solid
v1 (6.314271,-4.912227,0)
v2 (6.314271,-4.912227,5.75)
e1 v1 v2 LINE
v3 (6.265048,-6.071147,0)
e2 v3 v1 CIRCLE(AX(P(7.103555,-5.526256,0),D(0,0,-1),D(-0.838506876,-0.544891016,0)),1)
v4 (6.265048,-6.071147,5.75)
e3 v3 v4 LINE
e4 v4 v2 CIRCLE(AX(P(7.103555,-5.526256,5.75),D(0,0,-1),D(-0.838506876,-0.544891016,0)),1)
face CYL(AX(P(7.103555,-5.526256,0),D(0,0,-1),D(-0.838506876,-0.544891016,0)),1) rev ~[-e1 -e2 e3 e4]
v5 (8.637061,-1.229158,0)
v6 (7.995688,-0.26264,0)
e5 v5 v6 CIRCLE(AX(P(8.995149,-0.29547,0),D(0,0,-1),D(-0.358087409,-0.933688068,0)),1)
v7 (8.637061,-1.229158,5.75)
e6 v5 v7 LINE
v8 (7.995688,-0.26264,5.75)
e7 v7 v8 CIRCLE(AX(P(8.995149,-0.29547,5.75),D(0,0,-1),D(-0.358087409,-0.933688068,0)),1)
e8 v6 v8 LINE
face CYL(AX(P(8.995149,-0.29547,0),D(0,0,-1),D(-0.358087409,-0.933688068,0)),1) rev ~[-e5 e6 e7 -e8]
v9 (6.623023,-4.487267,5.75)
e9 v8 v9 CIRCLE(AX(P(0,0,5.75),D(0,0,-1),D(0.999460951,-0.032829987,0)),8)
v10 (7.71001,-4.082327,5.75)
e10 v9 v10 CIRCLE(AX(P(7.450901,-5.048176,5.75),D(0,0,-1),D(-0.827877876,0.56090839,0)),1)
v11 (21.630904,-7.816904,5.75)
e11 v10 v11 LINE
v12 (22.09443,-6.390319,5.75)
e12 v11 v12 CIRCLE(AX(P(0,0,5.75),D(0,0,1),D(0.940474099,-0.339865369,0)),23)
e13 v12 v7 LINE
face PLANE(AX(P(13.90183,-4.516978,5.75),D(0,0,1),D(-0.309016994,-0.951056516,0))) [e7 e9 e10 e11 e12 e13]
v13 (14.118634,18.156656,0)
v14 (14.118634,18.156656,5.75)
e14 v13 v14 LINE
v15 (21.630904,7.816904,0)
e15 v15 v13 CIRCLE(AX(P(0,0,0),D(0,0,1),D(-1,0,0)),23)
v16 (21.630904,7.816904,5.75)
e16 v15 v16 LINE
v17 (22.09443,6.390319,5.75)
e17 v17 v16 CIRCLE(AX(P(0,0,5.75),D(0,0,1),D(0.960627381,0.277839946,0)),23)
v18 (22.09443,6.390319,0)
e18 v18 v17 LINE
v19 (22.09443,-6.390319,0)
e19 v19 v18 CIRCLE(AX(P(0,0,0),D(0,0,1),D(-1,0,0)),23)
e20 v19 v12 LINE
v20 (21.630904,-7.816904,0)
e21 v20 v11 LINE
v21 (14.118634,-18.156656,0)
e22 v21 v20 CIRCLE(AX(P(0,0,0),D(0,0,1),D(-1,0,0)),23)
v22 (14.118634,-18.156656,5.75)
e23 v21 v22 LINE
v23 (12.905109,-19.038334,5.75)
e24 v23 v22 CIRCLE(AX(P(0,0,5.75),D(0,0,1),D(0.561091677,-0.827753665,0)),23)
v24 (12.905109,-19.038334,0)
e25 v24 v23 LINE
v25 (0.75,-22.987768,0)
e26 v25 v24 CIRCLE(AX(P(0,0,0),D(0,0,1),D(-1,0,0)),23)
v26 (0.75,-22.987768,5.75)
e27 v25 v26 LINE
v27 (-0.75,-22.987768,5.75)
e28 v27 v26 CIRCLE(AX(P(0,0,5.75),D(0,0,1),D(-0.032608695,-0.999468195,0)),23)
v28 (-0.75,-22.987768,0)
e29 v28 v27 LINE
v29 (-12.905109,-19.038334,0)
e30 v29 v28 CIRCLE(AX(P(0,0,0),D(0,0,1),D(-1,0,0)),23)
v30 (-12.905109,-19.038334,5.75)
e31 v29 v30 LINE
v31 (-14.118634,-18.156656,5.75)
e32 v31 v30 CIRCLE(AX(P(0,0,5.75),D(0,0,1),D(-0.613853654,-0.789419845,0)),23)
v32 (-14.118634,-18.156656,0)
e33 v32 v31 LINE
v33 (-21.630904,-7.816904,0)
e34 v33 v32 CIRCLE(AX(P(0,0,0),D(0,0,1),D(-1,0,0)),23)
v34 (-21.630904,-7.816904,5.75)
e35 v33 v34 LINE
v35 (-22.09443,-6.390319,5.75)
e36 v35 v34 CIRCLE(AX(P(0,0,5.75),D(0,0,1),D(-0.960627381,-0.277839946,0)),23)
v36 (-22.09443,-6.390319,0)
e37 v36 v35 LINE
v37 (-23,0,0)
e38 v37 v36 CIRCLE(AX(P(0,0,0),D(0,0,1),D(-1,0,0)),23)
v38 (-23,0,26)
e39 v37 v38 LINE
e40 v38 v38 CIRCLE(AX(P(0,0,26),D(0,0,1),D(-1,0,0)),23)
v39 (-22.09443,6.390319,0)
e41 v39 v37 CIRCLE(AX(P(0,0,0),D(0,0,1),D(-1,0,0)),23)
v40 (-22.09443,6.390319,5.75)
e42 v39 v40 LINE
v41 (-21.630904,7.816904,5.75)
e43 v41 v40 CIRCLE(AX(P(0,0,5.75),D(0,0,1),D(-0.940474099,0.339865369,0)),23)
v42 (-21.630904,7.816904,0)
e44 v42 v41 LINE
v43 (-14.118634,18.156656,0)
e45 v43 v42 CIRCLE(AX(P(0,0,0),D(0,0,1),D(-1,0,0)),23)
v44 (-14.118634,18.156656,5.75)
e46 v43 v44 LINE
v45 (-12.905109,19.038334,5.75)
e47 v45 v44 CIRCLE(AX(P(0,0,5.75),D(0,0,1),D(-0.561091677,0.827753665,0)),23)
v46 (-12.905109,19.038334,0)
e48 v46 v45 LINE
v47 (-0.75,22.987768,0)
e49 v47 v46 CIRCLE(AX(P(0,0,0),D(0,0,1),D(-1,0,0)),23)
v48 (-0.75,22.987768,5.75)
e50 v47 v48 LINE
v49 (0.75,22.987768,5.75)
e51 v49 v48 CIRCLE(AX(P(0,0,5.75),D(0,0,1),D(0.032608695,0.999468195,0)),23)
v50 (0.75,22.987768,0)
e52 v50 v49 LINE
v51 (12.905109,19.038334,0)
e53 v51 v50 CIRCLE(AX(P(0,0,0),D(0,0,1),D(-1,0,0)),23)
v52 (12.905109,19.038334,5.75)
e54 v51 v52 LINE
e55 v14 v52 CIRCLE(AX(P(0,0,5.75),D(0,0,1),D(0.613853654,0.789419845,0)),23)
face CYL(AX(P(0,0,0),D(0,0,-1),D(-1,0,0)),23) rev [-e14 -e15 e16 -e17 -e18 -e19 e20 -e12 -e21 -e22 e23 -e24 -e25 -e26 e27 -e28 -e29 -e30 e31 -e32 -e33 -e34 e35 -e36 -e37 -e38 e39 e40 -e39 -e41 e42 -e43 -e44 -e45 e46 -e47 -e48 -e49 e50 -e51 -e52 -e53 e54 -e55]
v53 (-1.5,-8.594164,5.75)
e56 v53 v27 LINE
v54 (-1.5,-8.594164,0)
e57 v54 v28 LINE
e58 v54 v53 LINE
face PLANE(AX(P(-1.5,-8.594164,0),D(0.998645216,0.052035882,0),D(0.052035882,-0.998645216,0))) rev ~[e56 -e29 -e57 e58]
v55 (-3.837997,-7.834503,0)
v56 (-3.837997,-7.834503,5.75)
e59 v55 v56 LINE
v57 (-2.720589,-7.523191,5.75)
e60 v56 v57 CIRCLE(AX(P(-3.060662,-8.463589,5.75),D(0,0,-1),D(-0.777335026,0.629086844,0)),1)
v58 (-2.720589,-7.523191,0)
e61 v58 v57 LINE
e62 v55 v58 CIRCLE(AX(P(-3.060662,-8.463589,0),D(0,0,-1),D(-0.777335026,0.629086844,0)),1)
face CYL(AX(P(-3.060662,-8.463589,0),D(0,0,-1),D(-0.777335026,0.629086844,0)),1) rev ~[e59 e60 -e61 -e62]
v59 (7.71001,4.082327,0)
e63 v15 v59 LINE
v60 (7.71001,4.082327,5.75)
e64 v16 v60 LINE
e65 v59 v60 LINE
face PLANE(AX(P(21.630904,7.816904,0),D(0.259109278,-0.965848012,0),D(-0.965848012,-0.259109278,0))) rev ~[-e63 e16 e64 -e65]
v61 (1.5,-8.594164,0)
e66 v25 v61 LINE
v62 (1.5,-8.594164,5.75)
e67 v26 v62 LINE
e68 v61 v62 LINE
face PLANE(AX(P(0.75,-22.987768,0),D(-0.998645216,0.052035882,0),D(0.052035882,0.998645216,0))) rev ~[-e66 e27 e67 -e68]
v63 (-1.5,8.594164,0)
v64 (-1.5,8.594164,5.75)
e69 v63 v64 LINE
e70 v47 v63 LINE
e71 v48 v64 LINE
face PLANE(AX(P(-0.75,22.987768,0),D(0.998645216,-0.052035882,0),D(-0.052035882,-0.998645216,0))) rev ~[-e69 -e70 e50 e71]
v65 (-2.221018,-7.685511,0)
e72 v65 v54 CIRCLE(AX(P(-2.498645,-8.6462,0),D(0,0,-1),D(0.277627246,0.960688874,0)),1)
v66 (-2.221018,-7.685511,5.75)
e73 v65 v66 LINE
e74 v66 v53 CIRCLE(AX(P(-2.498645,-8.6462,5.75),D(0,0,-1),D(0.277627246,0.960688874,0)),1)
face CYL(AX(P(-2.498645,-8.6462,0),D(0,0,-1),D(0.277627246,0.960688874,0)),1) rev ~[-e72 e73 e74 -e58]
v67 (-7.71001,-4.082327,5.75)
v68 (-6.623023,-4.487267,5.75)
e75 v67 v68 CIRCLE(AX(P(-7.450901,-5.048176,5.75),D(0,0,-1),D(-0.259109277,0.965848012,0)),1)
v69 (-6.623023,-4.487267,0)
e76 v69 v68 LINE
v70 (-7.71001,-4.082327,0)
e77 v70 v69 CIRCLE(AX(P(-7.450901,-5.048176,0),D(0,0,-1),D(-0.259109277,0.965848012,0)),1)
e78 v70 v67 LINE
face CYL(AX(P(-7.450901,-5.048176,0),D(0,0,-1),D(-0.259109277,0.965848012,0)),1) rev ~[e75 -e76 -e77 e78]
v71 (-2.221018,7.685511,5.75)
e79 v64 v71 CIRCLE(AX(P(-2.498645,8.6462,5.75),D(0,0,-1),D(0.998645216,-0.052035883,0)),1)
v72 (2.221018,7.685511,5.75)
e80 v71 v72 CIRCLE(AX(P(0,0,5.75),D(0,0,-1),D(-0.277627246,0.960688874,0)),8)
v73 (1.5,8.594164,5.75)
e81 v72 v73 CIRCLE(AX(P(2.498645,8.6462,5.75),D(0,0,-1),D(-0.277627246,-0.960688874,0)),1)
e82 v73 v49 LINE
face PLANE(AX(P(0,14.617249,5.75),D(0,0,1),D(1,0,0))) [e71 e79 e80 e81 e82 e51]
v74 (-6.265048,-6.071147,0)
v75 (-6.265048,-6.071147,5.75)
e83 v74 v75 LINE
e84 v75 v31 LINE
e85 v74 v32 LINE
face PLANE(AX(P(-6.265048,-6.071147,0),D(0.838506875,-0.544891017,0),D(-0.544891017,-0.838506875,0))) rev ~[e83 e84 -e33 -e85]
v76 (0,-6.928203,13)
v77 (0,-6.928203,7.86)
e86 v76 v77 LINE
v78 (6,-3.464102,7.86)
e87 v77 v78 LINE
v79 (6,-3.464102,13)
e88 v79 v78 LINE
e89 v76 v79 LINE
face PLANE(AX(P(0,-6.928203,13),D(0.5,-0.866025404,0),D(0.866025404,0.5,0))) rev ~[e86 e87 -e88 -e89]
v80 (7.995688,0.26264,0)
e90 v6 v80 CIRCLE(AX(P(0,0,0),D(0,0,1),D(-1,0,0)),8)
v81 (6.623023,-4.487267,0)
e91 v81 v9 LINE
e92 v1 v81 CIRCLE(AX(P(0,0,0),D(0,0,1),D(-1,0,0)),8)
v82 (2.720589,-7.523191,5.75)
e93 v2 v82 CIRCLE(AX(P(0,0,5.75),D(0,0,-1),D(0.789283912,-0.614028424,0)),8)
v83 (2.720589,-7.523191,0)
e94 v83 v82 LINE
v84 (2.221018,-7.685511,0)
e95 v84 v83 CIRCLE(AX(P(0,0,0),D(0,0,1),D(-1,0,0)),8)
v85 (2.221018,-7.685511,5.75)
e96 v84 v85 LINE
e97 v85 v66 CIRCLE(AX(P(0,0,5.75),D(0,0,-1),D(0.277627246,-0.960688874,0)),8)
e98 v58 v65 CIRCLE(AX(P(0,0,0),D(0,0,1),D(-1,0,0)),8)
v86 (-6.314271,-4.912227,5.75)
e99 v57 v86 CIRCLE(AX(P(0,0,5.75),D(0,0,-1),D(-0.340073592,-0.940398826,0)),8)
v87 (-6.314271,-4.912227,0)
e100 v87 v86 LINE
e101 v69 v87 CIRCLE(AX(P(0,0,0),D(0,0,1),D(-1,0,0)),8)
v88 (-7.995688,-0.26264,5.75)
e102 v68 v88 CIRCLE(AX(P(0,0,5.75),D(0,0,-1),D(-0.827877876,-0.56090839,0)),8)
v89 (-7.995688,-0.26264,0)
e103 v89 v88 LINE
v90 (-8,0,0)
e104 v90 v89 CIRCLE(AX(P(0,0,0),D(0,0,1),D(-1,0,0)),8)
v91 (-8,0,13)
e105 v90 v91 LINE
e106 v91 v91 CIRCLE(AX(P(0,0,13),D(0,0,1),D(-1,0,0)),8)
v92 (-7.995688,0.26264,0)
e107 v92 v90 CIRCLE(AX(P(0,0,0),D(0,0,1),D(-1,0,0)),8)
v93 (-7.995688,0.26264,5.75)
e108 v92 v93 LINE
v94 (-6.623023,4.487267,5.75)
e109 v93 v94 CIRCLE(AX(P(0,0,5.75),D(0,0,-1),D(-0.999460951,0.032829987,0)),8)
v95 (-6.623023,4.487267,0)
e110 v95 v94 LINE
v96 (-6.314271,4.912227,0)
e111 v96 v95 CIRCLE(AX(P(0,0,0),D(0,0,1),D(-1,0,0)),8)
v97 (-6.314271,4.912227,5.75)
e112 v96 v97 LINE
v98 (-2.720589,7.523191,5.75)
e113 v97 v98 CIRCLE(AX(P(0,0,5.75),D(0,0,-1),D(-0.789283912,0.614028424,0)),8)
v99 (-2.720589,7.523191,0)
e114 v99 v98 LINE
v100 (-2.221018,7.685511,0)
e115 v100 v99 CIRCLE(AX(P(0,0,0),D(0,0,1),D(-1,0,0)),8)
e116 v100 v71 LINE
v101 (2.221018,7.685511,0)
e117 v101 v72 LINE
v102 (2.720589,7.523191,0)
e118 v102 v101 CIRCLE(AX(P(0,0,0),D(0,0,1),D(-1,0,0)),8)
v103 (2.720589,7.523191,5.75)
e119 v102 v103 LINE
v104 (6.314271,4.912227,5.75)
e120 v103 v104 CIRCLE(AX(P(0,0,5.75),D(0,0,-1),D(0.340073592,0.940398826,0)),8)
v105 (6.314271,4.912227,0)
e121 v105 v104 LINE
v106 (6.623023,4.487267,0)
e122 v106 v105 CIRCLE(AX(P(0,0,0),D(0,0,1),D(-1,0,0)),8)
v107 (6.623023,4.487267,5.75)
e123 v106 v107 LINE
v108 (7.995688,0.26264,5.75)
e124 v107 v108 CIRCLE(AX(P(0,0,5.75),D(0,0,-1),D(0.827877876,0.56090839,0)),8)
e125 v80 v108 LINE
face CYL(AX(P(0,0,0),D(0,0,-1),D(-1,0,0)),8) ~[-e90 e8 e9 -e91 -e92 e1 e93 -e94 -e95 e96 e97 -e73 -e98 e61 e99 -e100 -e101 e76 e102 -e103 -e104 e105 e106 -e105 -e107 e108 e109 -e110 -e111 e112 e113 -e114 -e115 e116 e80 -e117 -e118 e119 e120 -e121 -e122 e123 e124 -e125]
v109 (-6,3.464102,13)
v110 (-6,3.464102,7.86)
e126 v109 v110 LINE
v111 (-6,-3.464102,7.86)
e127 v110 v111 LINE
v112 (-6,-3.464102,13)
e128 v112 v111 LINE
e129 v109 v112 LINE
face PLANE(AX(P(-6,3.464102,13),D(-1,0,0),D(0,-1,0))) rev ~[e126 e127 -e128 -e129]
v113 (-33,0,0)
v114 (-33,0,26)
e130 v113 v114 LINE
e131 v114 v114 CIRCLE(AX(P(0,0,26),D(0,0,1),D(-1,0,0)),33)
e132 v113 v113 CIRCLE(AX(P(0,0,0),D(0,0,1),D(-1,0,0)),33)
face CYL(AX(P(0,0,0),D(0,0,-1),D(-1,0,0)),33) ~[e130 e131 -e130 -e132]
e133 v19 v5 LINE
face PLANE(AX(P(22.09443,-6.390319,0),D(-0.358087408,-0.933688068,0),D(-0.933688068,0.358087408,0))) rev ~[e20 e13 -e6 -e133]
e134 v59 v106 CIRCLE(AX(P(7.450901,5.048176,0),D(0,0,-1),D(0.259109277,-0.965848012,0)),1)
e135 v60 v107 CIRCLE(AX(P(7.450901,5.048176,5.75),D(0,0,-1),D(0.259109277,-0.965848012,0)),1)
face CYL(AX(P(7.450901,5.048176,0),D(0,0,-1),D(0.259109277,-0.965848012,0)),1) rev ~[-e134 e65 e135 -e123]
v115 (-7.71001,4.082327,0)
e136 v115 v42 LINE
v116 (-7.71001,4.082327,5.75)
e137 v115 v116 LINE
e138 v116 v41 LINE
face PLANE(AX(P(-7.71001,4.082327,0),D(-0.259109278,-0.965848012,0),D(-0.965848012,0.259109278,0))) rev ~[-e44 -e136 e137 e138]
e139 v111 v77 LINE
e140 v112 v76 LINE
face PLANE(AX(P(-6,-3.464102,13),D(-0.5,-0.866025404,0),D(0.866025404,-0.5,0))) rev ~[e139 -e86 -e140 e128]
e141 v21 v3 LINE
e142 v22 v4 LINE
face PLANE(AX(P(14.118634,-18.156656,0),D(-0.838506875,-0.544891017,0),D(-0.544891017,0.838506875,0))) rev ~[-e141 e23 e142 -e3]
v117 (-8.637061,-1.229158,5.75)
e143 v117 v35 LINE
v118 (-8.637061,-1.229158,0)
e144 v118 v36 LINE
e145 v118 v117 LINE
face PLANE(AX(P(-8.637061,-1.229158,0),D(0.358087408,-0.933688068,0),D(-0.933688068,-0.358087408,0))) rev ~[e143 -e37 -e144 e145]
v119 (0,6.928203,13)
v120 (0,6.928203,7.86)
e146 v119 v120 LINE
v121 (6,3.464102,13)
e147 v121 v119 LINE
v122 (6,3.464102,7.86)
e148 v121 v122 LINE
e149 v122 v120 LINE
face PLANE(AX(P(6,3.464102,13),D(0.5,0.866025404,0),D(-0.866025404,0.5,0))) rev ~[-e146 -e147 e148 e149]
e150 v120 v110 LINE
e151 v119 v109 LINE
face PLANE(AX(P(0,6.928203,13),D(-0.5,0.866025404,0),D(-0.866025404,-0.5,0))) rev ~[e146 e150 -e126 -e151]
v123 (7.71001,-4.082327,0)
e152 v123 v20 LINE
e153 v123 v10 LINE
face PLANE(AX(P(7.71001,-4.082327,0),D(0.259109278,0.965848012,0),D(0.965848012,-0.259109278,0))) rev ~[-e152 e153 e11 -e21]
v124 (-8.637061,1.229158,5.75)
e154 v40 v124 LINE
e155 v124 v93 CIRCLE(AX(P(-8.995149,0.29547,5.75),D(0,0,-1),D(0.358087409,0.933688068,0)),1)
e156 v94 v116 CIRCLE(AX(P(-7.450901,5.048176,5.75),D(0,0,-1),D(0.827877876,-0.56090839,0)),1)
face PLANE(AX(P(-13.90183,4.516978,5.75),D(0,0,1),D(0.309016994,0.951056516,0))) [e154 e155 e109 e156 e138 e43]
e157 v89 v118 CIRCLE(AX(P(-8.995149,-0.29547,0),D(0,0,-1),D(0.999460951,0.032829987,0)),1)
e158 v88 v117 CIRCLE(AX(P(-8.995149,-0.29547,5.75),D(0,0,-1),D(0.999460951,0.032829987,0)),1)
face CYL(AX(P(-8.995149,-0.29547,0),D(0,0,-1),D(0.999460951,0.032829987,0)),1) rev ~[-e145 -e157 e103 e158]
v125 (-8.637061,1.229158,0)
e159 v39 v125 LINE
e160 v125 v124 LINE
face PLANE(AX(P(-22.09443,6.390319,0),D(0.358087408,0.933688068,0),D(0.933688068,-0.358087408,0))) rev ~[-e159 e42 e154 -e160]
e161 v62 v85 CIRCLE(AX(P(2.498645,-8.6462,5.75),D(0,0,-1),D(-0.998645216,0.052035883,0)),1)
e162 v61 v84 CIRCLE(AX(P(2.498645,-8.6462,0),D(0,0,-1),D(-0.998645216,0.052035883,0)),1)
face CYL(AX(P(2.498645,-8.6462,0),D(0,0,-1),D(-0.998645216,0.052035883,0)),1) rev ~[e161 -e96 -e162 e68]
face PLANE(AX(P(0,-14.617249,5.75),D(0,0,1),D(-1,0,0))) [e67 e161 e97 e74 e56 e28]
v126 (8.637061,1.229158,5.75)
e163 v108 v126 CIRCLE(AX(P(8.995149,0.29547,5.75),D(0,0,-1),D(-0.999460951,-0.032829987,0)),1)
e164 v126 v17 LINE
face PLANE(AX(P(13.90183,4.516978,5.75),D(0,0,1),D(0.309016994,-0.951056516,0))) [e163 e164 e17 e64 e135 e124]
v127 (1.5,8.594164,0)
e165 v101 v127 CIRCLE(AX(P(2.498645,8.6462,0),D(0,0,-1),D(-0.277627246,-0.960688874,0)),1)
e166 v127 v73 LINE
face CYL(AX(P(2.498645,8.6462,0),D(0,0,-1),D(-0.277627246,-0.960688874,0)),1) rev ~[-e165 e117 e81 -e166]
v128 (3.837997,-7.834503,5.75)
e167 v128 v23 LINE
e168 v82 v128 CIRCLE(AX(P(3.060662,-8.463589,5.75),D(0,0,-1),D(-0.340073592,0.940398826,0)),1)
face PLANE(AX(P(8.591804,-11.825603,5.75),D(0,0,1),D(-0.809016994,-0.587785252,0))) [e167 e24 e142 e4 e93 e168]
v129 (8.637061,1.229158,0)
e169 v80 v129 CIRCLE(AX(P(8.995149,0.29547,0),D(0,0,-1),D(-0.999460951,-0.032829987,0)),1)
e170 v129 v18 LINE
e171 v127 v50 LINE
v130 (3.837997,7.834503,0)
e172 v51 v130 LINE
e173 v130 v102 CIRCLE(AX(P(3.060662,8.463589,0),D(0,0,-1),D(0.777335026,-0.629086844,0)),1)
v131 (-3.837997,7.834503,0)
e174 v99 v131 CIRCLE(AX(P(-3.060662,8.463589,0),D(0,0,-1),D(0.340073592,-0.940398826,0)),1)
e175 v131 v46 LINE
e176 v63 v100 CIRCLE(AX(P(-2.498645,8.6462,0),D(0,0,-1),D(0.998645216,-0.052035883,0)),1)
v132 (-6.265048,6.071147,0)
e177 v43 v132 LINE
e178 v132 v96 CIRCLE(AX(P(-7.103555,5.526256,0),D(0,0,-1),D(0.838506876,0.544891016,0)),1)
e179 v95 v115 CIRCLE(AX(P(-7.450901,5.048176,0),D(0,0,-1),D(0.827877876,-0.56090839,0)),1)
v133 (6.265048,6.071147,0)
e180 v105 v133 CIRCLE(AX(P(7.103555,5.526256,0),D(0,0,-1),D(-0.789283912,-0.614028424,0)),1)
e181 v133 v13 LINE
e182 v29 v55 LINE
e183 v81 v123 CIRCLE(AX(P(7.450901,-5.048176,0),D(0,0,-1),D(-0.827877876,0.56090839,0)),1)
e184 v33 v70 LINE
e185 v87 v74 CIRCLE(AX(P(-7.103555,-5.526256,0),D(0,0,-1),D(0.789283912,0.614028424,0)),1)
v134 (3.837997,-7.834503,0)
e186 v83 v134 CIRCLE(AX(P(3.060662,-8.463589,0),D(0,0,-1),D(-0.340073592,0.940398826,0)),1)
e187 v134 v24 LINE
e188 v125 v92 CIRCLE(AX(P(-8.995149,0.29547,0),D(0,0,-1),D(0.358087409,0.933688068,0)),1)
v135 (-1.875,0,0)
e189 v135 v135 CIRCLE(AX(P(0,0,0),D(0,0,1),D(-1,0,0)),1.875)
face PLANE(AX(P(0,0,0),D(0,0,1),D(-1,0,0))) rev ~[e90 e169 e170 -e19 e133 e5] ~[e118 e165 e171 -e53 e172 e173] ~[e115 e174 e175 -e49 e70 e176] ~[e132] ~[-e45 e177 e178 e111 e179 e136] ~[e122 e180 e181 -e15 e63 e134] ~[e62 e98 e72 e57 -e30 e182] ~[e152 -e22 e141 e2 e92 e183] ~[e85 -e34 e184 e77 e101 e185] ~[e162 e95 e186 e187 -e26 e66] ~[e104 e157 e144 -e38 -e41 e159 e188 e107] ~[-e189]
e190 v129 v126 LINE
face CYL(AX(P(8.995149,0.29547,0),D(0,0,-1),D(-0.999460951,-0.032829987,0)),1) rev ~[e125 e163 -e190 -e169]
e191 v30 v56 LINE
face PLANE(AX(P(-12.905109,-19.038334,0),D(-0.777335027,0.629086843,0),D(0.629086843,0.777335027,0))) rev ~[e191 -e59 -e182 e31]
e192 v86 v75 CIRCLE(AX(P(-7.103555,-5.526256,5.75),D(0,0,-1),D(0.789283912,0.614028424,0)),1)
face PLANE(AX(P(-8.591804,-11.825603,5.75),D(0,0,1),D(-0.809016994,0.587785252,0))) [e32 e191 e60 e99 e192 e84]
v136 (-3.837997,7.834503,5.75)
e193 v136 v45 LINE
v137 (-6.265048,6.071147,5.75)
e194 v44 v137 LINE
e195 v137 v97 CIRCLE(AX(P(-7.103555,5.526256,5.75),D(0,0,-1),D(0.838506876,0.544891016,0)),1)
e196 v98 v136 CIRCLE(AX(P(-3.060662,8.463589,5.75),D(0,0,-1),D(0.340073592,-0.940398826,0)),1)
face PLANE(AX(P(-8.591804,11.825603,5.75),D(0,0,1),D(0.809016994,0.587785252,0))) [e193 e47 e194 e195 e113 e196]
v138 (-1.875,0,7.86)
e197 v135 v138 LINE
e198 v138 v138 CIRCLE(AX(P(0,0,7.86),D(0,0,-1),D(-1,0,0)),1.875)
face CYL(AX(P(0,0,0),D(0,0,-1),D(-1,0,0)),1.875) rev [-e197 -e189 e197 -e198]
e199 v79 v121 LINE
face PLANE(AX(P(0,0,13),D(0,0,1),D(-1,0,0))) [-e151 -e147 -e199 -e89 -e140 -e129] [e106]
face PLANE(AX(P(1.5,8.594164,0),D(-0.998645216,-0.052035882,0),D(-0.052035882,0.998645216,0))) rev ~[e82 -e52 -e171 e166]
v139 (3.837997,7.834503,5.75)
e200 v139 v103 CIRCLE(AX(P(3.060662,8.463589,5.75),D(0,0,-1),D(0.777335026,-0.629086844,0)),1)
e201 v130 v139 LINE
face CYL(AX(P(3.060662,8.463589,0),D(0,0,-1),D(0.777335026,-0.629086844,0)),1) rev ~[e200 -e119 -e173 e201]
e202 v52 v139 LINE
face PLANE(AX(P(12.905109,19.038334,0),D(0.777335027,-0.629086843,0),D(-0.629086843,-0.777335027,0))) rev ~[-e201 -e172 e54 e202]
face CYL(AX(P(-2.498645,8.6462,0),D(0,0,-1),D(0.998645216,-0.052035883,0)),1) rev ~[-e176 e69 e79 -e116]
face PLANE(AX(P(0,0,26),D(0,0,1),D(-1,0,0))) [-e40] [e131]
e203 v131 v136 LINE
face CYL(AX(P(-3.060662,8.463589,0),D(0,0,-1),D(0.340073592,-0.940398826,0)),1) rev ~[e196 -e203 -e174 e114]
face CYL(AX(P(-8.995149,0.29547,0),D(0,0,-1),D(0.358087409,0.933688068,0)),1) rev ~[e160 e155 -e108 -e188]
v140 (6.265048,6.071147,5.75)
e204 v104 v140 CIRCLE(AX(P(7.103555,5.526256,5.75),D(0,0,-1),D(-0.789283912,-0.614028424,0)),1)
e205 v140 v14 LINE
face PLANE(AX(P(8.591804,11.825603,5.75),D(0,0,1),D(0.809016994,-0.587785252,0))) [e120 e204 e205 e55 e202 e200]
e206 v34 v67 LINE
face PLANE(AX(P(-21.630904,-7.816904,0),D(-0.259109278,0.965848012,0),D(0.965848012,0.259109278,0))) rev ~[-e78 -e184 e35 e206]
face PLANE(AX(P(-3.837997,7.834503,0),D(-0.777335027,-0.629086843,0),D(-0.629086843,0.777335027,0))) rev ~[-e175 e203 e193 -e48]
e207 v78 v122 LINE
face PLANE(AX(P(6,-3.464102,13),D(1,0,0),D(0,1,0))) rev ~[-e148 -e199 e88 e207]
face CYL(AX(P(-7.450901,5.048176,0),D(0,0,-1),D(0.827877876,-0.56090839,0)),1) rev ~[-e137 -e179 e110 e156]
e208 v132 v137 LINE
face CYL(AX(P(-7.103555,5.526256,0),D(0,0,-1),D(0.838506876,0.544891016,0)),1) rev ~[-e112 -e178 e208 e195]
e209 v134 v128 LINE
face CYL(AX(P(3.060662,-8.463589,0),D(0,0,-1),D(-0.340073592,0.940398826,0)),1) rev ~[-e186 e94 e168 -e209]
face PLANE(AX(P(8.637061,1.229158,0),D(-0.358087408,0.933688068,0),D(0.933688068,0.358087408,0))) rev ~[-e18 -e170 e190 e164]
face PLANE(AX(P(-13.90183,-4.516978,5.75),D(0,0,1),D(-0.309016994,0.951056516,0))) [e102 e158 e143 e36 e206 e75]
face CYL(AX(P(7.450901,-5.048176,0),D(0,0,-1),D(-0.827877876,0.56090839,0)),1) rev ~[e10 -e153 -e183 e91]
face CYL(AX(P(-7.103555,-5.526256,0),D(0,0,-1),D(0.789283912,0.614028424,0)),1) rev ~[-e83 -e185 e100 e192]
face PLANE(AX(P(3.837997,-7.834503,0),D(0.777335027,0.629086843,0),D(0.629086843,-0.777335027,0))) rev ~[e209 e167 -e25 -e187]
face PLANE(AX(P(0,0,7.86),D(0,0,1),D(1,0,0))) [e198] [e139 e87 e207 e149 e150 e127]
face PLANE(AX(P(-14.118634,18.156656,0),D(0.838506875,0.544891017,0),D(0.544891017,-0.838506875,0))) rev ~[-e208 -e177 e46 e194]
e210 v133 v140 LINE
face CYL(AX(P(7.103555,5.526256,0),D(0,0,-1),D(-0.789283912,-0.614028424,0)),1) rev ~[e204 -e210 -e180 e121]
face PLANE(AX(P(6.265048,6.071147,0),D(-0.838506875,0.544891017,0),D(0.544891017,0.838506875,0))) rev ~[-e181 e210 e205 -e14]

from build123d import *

# Parameters (mm, degrees)
SKETCH1_R           = 33
SKETCH1_R_2         = 23
BOSS_EXTRUDE1_DEPTH = 26
SKETCH3_R           = 8
SKETCH3_R_2         = 1.875
BOSS_EXTRUDE2_DEPTH = 13
CUT_EXTRUDE1_DEPTH  = 5.14
BOSS_EXTRUDE3_DEPTH = 5.75
CIRPATTERN1_COUNT   = 10


with BuildPart() as part:
    # Sketch1 → Boss-Extrude1 (new body)
    with BuildSketch(Plane.XY):
        Circle(SKETCH1_R)
        Circle(SKETCH1_R_2, mode=Mode.SUBTRACT)
    extrude(amount=BOSS_EXTRUDE1_DEPTH)



with BuildPart() as body_2:
    # Sketch3 → Boss-Extrude2 (new body)
    with BuildSketch(Plane.XY):
        Circle(SKETCH3_R)
        Circle(SKETCH3_R_2, mode=Mode.SUBTRACT)
    extrude(amount=BOSS_EXTRUDE2_DEPTH)

    # Sketch4 → Cut-Extrude1 (cut)
    with BuildSketch(Plane.XY.offset(13)):
        Polygon((0, 6.92820323), (-6, 3.464101615), (-6, -3.464101615), (0, -6.92820323), (6, -3.464101615), (6, 3.464101615), align=None)
    extrude(amount=-CUT_EXTRUDE1_DEPTH, mode=Mode.SUBTRACT)


with BuildPart() as part_1:
    add(part.part)

    add(body_2.part)  # Boss-Extrude3 merges body 2
    # Sketch5 → Boss-Extrude3 (add)
    with BuildSketch(Plane.XY):
        with BuildLine():
            Line((-0.75, 22.987768487), (-1.5, 8.594163981))
            ThreePointArc((-1.5, 8.594163981), (-1.715299562, 8.024613517), (-2.22101797, 7.68551099))
            ThreePointArc((-2.22101797, 7.68551099), (0, 8), (2.22101797, 7.68551099))
            ThreePointArc((2.22101797, 7.68551099), (1.715299562, 8.024613517), (1.5, 8.594163981))
            Line((1.5, 8.594163981), (0.75, 22.987768487))
            ThreePointArc((0.75, 22.987768487), (0, 23), (-0.75, 22.987768487))
        make_face()
    boss_extrude3 = extrude(amount=BOSS_EXTRUDE3_DEPTH)

    # CirPattern1: Boss-Extrude3 ×10 about axis
    cirpattern1_axis = Axis((0, 0, 27.3), (0, 0, -1))
    for i in range(1, CIRPATTERN1_COUNT):
        add(boss_extrude3.rotate(cirpattern1_axis, i * 360 / CIRPATTERN1_COUNT))


solid = part_1.part
